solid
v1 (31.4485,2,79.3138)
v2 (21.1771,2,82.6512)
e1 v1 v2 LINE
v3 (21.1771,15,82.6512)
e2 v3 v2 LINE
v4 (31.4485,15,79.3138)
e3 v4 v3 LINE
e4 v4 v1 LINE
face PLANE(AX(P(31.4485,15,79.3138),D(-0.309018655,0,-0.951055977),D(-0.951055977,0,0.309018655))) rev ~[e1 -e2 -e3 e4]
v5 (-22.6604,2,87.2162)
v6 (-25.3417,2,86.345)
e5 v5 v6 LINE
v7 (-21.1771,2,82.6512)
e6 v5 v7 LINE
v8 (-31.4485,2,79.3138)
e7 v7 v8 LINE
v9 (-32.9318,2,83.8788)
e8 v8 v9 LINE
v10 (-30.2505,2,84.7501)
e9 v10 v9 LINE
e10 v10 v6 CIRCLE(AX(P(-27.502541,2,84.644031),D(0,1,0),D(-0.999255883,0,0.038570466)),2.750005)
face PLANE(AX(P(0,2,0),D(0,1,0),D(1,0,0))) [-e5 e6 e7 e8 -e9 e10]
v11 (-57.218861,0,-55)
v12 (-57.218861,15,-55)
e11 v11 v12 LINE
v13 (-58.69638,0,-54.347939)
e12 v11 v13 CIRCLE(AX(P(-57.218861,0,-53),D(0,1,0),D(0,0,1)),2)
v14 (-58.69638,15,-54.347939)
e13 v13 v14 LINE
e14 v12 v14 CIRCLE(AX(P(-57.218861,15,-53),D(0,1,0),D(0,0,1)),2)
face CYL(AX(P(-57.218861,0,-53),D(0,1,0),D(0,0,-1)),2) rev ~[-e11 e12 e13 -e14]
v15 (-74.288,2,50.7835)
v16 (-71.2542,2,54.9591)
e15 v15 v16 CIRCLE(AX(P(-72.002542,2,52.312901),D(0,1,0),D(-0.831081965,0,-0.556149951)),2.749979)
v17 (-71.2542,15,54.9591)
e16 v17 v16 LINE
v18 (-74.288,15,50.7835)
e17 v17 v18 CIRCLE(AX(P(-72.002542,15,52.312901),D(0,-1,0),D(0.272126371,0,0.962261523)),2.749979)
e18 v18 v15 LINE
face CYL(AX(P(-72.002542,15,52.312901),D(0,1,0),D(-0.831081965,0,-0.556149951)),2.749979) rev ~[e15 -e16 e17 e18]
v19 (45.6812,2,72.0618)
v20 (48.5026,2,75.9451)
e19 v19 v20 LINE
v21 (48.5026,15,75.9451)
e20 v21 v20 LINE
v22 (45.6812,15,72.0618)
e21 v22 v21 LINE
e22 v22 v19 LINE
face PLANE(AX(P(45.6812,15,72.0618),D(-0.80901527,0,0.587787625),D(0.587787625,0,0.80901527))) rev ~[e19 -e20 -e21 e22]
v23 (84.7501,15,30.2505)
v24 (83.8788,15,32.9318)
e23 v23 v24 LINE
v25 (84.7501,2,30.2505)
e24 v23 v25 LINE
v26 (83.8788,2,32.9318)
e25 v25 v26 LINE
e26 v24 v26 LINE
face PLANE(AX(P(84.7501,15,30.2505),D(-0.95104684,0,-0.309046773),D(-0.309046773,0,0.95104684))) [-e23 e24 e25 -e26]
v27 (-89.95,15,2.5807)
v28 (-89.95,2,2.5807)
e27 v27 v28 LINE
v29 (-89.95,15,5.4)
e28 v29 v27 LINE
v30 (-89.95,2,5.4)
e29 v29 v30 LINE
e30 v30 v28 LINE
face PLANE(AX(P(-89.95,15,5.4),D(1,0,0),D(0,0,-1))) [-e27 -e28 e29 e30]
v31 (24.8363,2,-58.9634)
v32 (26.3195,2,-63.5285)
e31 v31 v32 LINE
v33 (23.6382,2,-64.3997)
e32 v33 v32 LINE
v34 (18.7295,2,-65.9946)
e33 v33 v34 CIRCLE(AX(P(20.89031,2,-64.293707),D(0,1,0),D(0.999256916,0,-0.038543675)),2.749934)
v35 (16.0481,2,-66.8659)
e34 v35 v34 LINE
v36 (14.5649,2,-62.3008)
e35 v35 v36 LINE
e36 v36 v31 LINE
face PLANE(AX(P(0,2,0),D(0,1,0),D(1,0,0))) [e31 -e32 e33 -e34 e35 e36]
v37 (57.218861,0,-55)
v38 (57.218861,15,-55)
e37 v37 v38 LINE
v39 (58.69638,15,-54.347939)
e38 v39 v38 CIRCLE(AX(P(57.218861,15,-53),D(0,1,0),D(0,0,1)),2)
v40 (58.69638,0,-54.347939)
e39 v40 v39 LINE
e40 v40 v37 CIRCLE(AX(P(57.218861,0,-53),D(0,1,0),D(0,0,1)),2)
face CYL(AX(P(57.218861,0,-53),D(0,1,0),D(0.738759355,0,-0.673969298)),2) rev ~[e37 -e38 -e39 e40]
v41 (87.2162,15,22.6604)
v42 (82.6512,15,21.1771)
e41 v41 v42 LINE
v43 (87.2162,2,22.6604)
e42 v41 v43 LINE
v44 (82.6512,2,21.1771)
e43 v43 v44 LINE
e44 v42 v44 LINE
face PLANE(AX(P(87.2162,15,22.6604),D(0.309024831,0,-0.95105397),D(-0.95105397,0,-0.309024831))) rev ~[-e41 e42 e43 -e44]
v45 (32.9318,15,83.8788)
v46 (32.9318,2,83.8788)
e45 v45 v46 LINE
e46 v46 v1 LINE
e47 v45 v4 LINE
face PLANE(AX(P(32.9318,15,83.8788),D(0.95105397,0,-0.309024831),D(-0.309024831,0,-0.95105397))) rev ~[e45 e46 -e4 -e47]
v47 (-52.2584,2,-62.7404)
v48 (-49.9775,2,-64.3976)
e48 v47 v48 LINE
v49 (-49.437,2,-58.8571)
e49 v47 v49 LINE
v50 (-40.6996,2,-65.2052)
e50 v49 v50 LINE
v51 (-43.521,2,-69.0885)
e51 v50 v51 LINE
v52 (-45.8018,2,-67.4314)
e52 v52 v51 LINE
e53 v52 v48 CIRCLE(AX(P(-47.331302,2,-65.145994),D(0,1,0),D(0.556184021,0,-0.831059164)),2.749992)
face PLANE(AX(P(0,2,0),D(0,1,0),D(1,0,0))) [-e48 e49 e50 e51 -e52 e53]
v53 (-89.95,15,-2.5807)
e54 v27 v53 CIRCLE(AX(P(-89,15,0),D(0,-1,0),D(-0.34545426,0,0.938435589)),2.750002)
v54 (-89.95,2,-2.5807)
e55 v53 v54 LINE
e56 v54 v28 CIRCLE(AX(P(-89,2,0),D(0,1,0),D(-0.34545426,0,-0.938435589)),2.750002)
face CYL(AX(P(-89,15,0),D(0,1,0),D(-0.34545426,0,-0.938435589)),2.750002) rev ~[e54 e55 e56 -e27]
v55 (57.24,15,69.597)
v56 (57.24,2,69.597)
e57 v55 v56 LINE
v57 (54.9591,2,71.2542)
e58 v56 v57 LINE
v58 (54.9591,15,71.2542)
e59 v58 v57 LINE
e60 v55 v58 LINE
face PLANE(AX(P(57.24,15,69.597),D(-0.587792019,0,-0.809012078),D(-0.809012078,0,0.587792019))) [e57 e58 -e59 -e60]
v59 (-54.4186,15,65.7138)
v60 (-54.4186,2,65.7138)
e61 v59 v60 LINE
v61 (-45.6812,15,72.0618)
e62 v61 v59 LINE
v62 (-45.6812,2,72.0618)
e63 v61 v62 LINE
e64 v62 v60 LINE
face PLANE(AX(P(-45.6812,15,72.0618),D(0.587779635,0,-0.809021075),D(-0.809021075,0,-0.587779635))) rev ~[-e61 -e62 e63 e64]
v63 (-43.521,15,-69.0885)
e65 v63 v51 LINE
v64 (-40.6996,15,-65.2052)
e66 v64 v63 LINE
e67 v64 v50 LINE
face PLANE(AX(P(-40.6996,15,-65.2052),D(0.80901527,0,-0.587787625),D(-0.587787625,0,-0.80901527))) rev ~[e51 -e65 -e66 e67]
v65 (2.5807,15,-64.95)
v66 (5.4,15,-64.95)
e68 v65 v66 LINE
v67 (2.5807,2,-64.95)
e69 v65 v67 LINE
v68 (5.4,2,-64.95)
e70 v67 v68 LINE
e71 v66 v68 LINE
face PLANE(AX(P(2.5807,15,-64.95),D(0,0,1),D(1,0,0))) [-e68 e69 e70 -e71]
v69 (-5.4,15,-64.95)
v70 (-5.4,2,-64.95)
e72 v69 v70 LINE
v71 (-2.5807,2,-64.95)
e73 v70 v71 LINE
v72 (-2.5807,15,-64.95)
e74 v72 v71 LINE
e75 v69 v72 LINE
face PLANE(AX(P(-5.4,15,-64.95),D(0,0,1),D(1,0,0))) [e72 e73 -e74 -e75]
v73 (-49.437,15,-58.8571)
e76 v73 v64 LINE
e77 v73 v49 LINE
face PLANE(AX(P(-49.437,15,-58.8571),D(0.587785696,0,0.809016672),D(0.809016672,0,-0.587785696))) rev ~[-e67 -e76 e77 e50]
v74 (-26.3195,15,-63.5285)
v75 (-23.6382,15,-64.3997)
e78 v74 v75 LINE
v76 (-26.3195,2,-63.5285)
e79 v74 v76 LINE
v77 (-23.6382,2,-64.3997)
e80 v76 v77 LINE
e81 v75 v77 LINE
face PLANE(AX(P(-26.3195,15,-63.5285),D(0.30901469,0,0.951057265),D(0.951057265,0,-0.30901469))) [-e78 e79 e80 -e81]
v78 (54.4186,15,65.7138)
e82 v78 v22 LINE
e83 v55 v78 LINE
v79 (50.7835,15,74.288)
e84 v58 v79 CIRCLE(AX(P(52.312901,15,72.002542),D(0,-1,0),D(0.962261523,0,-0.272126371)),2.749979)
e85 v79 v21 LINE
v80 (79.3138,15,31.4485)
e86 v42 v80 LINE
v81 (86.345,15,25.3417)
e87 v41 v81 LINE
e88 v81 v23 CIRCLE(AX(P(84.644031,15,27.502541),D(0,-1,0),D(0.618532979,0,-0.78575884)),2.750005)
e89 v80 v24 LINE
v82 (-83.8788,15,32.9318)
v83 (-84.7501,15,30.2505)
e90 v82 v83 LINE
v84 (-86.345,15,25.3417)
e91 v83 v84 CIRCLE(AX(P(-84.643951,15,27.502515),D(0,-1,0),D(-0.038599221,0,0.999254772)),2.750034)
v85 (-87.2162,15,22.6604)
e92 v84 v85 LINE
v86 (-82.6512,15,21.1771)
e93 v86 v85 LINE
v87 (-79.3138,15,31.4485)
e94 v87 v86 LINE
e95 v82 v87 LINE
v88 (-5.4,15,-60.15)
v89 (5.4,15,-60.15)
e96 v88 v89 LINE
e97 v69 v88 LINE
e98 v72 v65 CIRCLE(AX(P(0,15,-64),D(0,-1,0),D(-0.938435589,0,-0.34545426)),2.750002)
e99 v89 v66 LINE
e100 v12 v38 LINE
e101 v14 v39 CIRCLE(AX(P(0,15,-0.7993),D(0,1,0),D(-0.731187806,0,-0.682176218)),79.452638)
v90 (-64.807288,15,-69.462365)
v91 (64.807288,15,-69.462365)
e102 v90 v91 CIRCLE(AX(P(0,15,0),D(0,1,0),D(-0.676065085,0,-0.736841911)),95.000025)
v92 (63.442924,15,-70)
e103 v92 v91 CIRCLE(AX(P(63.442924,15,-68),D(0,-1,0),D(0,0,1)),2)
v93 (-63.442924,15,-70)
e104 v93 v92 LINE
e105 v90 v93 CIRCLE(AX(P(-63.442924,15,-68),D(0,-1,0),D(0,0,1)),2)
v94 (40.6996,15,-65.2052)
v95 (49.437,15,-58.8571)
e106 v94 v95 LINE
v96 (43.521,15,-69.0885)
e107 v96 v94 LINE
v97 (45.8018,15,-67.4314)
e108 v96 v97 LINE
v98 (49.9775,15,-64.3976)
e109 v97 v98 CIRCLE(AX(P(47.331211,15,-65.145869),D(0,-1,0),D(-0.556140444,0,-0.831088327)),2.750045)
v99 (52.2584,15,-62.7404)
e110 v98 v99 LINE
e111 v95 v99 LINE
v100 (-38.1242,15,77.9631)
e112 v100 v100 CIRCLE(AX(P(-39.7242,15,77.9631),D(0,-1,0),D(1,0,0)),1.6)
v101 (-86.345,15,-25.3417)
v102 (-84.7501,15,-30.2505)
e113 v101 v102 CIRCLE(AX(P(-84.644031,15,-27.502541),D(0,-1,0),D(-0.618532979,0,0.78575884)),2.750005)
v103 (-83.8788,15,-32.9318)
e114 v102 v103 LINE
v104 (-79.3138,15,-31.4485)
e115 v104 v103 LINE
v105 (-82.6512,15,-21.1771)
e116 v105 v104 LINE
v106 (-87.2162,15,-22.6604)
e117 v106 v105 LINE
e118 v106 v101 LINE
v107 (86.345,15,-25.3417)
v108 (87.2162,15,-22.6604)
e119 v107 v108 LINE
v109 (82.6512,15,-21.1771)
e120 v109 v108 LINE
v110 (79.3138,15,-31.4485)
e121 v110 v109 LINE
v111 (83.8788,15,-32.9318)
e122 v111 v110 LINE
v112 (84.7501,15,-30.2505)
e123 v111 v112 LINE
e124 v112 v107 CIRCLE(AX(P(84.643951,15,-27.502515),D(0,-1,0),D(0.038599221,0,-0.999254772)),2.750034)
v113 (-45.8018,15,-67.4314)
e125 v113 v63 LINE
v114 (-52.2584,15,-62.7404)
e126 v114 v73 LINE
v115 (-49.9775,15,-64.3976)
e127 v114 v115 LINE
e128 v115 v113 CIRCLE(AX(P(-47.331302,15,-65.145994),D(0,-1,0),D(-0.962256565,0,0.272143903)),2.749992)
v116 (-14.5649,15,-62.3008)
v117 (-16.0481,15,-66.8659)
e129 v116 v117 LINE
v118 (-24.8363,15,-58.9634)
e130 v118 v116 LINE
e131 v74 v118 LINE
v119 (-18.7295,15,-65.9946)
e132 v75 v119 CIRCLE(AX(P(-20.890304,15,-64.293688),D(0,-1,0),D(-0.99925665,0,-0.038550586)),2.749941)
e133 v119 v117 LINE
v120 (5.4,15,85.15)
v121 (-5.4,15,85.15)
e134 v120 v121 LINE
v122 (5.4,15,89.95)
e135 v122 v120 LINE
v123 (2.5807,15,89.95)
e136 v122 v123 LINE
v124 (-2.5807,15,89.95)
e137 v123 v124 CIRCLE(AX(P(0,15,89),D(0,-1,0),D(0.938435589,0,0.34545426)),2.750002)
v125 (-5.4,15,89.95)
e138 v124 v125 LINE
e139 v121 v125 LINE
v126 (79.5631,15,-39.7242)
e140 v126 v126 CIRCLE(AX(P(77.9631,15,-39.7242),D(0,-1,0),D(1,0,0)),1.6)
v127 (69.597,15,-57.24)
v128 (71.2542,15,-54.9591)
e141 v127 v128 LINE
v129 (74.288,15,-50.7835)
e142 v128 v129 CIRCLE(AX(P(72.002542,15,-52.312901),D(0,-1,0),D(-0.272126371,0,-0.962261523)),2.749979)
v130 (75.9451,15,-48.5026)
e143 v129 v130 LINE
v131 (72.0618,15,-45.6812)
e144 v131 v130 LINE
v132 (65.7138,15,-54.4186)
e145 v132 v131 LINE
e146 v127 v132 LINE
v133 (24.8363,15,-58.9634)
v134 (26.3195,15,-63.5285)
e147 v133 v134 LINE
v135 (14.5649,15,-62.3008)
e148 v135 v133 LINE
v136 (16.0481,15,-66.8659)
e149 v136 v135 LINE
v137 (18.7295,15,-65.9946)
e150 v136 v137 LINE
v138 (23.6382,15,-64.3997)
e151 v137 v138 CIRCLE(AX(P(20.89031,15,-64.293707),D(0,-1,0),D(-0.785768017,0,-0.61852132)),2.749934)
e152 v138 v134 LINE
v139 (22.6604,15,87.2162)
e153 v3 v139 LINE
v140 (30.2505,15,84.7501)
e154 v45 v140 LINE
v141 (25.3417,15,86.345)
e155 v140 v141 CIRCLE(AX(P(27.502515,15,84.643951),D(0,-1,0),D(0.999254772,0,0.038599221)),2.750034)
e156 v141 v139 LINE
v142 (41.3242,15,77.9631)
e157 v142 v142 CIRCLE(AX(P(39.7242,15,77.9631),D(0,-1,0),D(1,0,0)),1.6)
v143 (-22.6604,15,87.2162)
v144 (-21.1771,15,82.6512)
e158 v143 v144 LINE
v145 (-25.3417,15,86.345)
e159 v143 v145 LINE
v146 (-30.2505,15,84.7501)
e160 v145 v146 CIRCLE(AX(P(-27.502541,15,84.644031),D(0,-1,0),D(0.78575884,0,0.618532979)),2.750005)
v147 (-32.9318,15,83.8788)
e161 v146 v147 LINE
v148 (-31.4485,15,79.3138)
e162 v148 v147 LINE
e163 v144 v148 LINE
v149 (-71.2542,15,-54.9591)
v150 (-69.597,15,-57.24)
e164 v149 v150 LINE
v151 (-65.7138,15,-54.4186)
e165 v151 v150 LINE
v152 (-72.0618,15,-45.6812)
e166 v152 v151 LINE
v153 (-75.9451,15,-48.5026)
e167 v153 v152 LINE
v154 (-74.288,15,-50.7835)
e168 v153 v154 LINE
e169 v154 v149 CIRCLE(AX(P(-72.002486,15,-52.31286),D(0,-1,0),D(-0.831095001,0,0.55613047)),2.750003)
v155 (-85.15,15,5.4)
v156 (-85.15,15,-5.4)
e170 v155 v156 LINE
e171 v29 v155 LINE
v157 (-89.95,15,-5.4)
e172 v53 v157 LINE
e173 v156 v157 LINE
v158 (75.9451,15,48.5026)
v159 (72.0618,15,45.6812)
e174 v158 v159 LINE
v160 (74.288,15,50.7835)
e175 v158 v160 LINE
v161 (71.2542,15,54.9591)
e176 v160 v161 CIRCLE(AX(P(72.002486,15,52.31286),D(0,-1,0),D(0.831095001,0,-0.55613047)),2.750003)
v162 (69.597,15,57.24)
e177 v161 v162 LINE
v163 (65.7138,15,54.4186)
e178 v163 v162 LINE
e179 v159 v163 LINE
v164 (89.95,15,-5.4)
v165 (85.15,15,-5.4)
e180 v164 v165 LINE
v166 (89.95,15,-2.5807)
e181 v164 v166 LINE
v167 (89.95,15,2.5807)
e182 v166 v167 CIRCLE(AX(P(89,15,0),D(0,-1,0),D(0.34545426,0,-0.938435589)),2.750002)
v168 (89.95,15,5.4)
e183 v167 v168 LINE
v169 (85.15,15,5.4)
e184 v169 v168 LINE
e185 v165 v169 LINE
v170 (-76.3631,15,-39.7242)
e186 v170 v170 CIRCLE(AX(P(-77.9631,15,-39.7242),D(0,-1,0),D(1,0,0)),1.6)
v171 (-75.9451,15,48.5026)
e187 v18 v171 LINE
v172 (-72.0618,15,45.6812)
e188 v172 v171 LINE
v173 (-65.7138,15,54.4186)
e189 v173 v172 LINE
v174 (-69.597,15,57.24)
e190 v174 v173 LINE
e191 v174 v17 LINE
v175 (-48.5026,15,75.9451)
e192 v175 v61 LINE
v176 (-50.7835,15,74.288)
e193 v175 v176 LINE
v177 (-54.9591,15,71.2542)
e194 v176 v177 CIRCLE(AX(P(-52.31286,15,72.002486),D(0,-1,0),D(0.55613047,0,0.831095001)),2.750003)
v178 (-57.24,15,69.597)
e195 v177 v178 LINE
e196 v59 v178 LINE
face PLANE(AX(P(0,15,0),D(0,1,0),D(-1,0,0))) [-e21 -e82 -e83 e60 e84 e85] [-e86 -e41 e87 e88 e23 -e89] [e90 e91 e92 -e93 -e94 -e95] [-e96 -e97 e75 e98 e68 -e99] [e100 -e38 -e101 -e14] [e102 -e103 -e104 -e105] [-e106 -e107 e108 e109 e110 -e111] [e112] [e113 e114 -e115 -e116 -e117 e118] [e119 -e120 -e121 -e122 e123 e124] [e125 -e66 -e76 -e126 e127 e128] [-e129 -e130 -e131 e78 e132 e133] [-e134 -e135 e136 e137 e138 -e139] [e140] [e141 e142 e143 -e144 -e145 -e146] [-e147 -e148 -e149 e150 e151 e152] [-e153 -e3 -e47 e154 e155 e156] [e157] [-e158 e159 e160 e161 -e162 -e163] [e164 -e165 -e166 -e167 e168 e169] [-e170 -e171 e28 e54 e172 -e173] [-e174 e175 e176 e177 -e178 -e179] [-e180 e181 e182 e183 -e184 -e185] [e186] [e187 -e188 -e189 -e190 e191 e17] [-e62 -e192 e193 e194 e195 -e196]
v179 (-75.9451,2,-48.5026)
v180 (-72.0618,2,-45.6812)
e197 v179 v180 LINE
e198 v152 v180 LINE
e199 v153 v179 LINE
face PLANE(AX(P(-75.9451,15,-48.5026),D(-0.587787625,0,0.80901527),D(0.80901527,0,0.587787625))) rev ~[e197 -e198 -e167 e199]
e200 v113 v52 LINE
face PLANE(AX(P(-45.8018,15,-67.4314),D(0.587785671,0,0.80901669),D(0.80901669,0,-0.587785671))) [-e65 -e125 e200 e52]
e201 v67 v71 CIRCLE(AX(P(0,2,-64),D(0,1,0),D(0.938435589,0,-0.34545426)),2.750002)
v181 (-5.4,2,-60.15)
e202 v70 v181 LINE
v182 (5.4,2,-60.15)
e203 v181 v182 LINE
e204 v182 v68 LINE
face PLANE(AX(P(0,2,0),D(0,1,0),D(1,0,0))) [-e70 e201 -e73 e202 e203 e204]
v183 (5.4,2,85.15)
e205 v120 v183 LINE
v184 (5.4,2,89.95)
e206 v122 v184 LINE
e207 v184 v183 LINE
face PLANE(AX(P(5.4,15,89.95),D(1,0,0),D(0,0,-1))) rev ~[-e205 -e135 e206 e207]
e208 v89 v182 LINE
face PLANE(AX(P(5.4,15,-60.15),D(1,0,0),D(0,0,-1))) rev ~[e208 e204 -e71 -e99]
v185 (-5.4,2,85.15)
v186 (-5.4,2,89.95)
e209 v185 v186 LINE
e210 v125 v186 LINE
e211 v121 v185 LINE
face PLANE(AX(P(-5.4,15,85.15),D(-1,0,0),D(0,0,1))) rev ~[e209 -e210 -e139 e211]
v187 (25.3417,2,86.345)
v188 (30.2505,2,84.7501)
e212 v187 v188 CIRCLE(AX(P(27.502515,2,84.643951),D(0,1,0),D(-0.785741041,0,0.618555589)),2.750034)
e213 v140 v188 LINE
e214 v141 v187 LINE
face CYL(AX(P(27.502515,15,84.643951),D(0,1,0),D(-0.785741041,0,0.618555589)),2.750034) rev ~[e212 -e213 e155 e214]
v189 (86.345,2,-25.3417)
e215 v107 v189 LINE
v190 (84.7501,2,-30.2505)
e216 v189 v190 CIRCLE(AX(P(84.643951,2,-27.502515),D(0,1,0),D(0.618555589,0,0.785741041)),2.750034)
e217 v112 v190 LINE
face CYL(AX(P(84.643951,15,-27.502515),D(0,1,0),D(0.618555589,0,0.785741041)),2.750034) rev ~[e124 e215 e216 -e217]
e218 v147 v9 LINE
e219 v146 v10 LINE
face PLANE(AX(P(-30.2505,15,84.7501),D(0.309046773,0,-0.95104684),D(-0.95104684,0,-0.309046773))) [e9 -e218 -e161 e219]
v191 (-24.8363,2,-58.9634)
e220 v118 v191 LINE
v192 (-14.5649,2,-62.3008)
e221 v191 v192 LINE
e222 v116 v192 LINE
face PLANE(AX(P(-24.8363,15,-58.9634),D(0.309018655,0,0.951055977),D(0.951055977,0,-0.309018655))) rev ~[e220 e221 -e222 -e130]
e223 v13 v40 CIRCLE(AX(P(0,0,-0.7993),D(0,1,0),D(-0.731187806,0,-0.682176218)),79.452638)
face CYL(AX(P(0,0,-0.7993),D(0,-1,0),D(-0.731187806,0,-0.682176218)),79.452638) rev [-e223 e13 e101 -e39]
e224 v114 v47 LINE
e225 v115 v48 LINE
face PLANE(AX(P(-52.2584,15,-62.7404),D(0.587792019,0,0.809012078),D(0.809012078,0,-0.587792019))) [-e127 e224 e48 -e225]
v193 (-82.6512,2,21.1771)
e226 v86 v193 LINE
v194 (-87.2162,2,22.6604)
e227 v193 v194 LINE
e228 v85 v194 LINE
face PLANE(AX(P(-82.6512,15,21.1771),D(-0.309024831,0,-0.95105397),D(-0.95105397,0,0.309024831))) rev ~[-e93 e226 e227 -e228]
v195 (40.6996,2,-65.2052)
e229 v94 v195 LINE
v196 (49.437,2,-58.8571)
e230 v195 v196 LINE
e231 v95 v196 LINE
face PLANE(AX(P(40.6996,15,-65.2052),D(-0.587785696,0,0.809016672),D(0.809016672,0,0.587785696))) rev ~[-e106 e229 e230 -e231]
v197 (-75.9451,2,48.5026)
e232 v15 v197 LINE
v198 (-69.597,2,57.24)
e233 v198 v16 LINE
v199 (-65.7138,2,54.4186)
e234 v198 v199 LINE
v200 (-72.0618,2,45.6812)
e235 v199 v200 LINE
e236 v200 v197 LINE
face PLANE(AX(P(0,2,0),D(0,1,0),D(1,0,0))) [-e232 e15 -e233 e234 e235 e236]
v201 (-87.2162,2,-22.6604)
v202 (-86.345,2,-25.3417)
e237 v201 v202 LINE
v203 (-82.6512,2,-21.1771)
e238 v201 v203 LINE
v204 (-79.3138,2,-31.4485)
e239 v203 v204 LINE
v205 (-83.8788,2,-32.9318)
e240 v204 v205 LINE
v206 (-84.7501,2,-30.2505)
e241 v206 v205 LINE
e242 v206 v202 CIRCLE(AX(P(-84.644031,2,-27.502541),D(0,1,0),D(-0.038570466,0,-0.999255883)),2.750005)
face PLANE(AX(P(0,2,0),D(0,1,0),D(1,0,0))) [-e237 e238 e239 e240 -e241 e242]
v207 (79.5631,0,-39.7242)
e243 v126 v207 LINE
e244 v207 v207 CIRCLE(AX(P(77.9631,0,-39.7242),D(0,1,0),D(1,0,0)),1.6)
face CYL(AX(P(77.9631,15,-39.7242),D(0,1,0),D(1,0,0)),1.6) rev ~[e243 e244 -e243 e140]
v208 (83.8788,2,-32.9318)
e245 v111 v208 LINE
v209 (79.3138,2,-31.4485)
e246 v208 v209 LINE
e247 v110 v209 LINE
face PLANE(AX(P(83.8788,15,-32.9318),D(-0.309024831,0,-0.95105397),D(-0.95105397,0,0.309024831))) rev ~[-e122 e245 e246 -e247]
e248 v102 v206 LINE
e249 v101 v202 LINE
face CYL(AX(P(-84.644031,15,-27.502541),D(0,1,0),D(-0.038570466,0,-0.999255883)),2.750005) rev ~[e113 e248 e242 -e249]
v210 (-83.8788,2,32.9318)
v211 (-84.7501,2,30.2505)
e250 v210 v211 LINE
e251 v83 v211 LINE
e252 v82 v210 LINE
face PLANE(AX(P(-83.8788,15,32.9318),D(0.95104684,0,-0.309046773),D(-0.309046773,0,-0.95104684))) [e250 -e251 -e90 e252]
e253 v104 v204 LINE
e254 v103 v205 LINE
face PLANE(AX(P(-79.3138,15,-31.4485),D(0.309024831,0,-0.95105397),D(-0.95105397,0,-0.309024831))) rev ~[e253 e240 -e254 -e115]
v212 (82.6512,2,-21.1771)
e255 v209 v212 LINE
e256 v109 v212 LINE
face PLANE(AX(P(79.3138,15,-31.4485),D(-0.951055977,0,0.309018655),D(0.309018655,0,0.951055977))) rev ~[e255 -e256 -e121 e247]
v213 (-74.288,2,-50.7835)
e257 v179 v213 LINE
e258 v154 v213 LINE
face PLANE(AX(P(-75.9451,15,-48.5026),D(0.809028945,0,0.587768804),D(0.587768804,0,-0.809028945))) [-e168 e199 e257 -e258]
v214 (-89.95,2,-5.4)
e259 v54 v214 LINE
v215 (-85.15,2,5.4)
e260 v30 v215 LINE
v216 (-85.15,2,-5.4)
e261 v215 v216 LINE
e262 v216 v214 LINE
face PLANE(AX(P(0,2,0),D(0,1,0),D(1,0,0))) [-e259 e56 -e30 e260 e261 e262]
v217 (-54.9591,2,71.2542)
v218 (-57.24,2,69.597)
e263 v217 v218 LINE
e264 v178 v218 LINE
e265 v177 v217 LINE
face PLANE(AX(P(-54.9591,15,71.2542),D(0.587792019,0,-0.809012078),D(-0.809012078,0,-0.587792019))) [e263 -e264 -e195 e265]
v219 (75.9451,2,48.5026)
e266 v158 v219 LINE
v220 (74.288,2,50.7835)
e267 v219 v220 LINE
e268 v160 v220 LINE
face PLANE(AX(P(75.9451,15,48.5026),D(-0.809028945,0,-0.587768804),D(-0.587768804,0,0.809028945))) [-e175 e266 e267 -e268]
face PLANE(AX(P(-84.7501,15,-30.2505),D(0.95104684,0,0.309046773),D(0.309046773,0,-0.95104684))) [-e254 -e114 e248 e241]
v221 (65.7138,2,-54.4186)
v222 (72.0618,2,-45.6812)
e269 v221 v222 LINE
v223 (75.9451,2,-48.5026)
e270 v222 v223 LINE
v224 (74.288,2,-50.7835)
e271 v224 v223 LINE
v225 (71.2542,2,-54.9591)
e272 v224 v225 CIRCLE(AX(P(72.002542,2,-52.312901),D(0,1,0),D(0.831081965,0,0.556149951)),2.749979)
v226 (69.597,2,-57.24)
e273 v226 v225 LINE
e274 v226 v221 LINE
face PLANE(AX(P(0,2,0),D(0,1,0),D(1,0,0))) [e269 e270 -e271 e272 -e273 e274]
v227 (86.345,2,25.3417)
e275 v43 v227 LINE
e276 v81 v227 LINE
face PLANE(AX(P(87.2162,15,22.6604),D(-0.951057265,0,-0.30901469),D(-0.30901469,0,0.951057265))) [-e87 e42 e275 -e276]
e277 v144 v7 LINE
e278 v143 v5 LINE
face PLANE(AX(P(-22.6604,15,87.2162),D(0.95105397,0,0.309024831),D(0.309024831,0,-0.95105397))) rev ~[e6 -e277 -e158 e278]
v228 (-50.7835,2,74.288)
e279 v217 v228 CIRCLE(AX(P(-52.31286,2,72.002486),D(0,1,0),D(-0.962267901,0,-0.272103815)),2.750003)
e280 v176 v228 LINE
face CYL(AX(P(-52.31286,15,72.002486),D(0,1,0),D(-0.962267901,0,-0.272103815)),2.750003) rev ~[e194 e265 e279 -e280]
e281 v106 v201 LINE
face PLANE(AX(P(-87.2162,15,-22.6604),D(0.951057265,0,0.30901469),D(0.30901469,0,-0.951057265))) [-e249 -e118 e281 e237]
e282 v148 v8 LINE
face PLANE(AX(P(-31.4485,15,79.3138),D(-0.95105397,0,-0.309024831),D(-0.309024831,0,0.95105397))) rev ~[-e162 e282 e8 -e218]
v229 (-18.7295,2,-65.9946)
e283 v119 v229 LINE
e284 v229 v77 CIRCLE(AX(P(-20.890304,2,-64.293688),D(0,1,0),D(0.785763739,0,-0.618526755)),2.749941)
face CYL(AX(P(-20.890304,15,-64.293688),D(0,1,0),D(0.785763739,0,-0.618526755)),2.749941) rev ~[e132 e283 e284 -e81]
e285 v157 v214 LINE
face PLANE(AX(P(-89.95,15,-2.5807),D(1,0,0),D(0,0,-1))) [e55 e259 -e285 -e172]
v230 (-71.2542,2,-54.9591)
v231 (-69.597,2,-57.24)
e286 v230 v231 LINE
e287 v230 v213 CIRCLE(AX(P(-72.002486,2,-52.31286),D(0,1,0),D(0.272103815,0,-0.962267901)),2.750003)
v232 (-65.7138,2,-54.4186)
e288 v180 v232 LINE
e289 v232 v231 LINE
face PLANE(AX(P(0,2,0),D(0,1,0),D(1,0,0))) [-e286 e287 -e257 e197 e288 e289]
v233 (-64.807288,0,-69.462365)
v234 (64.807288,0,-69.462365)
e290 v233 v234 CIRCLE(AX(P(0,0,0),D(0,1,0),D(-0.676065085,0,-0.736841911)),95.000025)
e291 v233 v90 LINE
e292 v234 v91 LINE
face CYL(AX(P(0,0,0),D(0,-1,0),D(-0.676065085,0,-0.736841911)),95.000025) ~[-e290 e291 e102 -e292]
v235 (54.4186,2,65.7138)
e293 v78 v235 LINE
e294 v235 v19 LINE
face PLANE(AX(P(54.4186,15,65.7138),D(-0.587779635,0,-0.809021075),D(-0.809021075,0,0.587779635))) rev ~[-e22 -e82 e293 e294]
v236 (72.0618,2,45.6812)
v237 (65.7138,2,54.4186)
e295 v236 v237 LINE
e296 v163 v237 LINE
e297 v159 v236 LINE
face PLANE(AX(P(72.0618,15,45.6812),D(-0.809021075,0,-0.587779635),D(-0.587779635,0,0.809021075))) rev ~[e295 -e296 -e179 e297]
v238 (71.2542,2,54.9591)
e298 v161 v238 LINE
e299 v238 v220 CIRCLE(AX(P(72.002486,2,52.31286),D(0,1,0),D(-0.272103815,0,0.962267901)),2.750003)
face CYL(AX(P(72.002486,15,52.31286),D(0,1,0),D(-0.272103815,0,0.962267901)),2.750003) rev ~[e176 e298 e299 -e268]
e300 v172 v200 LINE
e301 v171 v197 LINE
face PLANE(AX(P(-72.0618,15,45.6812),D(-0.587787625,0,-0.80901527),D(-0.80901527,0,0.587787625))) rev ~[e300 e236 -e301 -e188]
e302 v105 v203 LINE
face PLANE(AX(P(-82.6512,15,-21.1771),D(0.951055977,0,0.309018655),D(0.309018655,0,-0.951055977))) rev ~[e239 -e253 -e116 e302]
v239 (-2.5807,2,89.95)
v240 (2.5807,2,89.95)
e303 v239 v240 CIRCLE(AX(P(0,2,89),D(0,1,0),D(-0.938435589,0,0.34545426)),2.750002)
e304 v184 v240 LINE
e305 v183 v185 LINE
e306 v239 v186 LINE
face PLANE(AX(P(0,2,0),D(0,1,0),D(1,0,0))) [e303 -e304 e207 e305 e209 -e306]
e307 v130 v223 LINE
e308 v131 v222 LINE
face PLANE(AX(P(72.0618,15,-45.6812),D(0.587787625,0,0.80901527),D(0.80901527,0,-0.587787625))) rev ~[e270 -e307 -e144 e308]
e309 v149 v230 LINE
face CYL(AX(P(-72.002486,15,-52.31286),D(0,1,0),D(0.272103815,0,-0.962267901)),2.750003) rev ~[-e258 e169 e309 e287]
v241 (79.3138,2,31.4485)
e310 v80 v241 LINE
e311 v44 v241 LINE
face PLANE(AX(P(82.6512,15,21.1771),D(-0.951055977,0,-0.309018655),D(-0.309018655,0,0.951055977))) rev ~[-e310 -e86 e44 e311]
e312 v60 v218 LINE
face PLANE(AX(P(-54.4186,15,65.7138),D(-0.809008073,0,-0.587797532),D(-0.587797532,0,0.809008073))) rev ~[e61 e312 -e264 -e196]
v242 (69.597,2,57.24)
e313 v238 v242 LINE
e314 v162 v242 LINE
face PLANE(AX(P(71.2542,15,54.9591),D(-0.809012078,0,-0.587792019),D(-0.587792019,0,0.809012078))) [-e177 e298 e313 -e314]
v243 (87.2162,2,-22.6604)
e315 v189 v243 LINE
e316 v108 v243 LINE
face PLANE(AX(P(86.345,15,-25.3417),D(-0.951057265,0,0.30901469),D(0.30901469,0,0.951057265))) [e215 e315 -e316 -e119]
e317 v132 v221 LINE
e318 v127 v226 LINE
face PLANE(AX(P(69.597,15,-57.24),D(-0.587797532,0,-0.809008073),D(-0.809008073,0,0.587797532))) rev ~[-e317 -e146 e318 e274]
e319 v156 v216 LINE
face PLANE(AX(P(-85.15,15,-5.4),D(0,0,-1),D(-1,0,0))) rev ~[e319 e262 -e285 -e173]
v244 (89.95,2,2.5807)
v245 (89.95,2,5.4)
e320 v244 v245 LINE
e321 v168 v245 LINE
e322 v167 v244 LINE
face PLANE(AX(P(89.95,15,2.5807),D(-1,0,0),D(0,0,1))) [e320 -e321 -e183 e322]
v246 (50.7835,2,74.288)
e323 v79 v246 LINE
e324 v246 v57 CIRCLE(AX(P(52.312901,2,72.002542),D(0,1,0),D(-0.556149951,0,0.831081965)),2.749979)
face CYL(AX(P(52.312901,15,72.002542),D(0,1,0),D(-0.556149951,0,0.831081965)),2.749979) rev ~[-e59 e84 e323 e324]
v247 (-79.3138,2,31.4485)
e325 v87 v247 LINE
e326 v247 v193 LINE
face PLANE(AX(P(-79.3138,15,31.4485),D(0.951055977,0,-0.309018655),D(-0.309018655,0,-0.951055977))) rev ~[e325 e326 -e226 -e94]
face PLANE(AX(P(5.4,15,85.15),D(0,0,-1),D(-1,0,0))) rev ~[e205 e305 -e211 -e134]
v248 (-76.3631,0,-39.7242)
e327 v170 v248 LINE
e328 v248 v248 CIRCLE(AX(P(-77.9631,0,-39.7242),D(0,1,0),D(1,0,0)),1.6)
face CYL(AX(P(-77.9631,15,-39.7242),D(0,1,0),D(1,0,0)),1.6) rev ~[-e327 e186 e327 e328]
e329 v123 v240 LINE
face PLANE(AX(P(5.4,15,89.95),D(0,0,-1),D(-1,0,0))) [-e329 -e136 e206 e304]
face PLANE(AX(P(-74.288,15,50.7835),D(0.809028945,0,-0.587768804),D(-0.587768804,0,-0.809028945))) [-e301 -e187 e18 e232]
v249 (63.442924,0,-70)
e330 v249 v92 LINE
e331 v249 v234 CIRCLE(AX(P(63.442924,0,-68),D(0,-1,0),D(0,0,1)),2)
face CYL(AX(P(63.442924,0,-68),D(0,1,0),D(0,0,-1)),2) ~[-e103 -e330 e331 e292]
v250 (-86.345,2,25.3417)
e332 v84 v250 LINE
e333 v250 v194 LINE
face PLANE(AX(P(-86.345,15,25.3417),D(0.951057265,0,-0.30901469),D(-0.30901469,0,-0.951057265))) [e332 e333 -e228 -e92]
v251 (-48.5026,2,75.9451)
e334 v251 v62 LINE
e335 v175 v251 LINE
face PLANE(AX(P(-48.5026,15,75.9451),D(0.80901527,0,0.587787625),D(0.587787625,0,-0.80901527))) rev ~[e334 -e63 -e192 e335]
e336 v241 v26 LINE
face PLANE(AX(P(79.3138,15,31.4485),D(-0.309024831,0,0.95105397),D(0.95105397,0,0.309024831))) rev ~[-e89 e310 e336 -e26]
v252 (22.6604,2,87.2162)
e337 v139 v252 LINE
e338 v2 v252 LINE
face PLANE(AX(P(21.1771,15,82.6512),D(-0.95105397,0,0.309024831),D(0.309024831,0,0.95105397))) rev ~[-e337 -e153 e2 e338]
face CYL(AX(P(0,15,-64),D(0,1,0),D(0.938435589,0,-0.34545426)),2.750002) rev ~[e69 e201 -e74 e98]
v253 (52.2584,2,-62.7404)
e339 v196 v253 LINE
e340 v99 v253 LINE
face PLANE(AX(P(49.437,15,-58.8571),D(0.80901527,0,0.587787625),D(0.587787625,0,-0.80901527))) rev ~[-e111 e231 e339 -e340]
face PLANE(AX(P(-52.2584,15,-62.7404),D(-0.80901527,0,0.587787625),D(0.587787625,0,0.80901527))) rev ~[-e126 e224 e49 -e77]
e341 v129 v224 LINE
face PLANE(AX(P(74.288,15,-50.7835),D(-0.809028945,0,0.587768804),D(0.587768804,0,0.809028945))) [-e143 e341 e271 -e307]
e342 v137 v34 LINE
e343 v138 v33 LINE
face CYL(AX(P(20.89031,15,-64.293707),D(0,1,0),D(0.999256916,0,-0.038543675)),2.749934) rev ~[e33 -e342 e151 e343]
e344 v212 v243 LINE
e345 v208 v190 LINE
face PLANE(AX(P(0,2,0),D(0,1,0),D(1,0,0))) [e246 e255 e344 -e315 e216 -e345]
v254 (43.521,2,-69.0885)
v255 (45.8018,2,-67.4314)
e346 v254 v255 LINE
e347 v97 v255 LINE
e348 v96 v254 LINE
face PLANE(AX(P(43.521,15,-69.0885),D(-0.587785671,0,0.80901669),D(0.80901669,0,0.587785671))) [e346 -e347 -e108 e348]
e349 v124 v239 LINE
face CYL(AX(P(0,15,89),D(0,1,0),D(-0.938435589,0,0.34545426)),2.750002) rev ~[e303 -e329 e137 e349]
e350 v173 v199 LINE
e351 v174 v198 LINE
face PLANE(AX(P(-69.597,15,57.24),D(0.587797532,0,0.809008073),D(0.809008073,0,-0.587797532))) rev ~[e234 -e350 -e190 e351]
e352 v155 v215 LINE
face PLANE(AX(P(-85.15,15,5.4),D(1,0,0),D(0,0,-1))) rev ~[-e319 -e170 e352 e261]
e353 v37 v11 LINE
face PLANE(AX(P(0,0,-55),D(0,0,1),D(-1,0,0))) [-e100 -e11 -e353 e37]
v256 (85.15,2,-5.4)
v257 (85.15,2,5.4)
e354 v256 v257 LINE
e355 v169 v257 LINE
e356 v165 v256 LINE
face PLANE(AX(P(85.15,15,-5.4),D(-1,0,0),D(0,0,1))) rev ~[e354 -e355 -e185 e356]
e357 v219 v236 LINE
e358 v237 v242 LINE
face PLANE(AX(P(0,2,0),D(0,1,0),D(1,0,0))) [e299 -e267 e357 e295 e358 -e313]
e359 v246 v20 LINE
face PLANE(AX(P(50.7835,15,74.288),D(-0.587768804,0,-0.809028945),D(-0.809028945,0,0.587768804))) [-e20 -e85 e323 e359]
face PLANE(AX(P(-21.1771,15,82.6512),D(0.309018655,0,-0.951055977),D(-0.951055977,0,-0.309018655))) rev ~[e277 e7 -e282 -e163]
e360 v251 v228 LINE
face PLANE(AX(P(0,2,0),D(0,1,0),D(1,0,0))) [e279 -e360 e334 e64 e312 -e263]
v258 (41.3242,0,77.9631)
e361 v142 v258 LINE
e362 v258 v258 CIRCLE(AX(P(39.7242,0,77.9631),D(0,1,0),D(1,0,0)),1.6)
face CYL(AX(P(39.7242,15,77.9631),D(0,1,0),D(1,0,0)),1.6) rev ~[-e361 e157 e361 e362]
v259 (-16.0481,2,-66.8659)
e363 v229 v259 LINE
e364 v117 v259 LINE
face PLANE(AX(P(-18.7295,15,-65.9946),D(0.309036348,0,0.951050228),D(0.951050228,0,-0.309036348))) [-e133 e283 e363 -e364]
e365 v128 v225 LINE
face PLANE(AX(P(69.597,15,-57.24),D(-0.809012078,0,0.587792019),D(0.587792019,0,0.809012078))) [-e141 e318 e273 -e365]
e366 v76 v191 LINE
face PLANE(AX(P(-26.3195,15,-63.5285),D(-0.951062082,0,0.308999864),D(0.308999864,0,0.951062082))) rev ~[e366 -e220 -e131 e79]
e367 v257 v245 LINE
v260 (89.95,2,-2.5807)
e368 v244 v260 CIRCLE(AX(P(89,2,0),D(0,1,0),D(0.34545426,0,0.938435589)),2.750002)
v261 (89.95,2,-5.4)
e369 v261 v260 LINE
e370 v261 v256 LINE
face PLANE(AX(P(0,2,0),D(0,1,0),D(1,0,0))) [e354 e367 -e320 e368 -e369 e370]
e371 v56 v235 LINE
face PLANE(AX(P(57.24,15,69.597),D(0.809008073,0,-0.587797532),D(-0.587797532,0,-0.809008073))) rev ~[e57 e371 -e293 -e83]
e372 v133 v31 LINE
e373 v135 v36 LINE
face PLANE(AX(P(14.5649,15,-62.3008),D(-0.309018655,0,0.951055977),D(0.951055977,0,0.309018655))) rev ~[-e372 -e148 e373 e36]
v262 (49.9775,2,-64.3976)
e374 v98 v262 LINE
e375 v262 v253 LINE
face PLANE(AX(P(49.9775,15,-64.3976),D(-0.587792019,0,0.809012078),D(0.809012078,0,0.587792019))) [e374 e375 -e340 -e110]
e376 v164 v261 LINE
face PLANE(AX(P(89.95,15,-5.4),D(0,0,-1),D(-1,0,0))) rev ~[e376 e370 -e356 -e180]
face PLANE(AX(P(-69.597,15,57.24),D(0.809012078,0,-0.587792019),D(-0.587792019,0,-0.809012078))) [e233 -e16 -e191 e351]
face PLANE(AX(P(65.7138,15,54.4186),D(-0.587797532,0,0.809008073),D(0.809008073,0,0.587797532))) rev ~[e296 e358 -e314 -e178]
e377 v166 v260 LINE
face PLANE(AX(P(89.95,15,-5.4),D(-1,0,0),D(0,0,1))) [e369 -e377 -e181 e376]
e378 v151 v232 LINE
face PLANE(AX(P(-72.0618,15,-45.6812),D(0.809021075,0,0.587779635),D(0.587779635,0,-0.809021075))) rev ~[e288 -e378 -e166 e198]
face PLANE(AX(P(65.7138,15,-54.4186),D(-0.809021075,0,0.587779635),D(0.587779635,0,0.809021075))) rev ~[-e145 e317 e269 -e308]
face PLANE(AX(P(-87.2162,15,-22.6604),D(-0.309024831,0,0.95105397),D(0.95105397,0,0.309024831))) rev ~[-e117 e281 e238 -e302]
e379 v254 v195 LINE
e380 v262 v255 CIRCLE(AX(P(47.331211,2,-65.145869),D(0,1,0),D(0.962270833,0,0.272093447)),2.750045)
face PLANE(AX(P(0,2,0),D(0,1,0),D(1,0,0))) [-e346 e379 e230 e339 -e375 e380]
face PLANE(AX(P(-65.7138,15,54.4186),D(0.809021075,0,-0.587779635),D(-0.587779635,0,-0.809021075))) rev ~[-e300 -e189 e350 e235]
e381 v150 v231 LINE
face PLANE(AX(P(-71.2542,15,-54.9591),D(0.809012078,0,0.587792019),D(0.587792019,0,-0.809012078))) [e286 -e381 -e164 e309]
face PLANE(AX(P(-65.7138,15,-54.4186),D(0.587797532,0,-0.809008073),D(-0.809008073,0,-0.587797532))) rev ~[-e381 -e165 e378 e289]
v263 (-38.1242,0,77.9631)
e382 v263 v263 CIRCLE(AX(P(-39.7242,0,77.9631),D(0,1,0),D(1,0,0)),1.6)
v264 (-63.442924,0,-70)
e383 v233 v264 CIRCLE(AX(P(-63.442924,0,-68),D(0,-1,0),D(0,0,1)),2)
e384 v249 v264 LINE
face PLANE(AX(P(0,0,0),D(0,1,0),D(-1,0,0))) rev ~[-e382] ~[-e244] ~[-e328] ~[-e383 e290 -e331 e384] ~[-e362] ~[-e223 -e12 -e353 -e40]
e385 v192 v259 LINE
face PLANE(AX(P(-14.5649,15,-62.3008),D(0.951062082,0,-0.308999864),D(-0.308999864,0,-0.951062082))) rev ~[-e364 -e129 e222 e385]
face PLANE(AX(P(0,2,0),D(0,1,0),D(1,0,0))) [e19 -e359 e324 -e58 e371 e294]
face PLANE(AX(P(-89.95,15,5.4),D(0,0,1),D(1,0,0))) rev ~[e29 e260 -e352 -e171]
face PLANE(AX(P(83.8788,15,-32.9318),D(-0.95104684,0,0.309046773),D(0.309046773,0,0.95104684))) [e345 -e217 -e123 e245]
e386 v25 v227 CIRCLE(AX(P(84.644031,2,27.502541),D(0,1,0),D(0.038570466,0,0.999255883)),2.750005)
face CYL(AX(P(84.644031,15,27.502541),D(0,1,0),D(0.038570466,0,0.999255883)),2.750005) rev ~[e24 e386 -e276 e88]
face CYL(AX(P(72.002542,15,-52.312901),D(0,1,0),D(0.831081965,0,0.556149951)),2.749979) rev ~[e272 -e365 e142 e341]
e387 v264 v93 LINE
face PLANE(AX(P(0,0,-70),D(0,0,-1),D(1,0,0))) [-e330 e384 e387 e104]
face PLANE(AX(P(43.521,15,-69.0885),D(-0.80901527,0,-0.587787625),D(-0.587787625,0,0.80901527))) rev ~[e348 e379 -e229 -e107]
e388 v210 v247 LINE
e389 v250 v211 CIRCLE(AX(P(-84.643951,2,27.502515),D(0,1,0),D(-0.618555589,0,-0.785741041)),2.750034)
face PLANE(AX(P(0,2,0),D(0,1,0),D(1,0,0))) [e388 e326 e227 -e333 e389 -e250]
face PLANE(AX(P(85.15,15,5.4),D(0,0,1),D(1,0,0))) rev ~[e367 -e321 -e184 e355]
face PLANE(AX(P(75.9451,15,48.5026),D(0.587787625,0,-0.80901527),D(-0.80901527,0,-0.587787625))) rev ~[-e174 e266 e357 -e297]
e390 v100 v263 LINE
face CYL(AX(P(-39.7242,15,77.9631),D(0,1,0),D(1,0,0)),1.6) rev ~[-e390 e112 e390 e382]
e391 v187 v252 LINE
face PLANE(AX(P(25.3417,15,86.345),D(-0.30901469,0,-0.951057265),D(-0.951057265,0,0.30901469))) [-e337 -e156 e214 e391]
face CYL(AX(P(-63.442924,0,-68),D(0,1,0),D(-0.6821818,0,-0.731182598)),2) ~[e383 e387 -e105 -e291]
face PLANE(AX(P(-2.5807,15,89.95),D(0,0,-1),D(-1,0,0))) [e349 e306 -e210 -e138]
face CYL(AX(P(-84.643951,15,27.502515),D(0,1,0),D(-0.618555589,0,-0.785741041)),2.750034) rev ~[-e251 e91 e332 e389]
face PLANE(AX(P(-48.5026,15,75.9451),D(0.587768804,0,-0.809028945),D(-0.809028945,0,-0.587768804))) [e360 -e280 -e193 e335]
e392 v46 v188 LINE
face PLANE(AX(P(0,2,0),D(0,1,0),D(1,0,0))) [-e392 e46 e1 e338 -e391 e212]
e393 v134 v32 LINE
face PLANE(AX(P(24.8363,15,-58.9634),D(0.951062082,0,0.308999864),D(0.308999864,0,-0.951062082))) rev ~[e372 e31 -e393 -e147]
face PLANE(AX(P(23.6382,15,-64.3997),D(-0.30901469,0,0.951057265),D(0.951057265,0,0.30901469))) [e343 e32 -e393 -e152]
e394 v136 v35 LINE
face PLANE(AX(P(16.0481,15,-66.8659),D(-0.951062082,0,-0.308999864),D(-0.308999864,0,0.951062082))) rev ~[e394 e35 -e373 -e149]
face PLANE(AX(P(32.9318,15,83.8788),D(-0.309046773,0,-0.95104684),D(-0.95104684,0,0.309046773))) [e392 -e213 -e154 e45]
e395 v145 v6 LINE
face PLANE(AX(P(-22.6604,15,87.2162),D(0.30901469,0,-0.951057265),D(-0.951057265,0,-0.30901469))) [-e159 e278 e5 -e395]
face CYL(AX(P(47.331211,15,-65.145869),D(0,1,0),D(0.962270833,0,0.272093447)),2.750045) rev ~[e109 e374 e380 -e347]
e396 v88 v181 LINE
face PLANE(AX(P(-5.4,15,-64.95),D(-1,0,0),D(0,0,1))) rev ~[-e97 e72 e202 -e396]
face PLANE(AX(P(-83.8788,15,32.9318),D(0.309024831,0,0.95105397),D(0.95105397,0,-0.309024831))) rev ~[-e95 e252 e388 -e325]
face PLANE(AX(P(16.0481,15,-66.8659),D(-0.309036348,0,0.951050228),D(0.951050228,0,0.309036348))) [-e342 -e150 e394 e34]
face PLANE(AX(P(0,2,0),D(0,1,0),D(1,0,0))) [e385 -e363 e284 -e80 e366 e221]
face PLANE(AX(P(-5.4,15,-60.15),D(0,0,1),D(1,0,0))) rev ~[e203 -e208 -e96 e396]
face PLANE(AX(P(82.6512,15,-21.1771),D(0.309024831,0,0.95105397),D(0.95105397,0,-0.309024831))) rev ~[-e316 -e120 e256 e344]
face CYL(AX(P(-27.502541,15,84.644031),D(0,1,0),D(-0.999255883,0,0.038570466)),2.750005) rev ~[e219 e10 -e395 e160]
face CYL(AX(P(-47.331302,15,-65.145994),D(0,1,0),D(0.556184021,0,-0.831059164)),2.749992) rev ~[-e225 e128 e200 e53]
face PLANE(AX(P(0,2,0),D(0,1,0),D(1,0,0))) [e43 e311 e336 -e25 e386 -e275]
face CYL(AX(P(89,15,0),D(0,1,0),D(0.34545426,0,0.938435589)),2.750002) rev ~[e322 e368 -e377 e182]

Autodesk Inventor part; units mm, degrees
ref_plane "YZ Plane" through (0, 0, 0) normal (1, 0, 0) x (0, 1, 0)
ref_plane "XZ Plane" through (0, 0, 0) normal (0, 1, 0) x (-1, 0, 0)
ref_plane "XY Plane" through (0, 0, 0) normal (0, 0, 1) x (1, 0, 0)
sketch "Sketch1" plane through (0, 0, 0) normal (0, 1, 0) x (-1, 0, 0)
  line L0 (0, -70) -> (-64.2262, -70)
  line L1 (0, -70) -> (64.2262, -70)
  line L2 (0, -55) -> (58.0948, -55)
  line L3 (0, -55) -> (-58.0948, -55)
  arc A0 (64.2262, -70) -> (-64.2262, -70) centre (0, 0) ccw
  arc A1 (58.0948, -55) -> (-58.0948, -55) centre (0, -0.7993) ccw
extrude "Extrusion1" add sketch "Sketch1" along normal blind 15
fillet "Fillet1" radius 2 4 edges at (64.2262, 7.5, -70) (-64.2262, 7.5, -70) (58.0948, 7.5, -55) (-58.0948, 7.5, -55)
sketch "Sketch2" plane through (0, 15, 0) normal (0, 1, 0) x (1, 0, 0)
  line L0 (-5.4, 64.95) -> (-5.4, 60.15)
  line L1 (-5.4, 60.15) -> (5.4, 60.15)
  line L2 (5.4, 60.15) -> (5.4, 64.95)
  arc A0 (2.5807, 64.95) -> (-2.5807, 64.95) centre (0, 64) ccw
  line L3 (-5.4, 64.95) -> (-2.5807, 64.95)
  line L4 (2.5807, 64.95) -> (5.4, 64.95)
  line L5 (0, 66.75) -> (0, 64)
  line L6 (0, 64) -> (0, 70)
  line L7 (-26.3195, 63.5285) -> (-24.8363, 58.9634)
  line L8 (-20.8903, 64.2937) -> (-22.7444, 70)
  line L9 (-21.7401, 66.9091) -> (-20.8903, 64.2937)
  arc A1 (-18.7295, 65.9946) -> (-23.6382, 64.3997) centre (-20.8903, 64.2937) ccw
  line L10 (-18.7295, 65.9946) -> (-16.0481, 66.8659)
  line L11 (-24.8363, 58.9634) -> (-14.5649, 62.3008)
  line L12 (-14.5649, 62.3008) -> (-16.0481, 66.8659)
  line L13 (-26.3195, 63.5285) -> (-23.6382, 64.3997)
  line L14 (-52.2584, 62.7404) -> (-49.437, 58.8571)
  line L15 (-47.3313, 65.1459) -> (-50.858, 70)
  line L16 (-48.9477, 67.3707) -> (-47.3313, 65.1459)
  arc A2 (-45.8018, 67.4314) -> (-49.9775, 64.3976) centre (-47.3313, 65.1459) ccw
  line L17 (-45.8018, 67.4314) -> (-43.521, 69.0885)
  line L18 (-49.437, 58.8571) -> (-40.6996, 65.2052)
  line L19 (-40.6996, 65.2052) -> (-43.521, 69.0885)
  line L20 (-52.2584, 62.7404) -> (-49.9775, 64.3976)
  line L21 (-75.9451, 48.5026) -> (-72.0618, 45.6812)
  line L22 (-72.0025, 52.3129) -> (-76.8566, 55.8396)
  line L23 (-74.2273, 53.9293) -> (-72.0025, 52.3129)
  arc A3 (-71.2542, 54.9591) -> (-74.288, 50.7835) centre (-72.0025, 52.3129) ccw
  line L24 (-71.2542, 54.9591) -> (-69.597, 57.24)
  line L25 (-72.0618, 45.6812) -> (-65.7138, 54.4186)
  line L26 (-65.7138, 54.4186) -> (-69.597, 57.24)
  line L27 (-75.9451, 48.5026) -> (-74.288, 50.7835)
  line L28 (-87.2162, 22.6604) -> (-82.6512, 21.1771)
  line L29 (-84.644, 27.5025) -> (-90.3504, 29.3566)
  line L30 (-87.2594, 28.3523) -> (-84.644, 27.5025)
  arc A4 (-84.7501, 30.2505) -> (-86.345, 25.3417) centre (-84.644, 27.5025) ccw
  line L31 (-84.7501, 30.2505) -> (-83.8788, 32.9318)
  line L32 (-82.6512, 21.1771) -> (-79.3138, 31.4485)
  line L33 (-79.3138, 31.4485) -> (-83.8788, 32.9318)
  line L34 (-87.2162, 22.6604) -> (-86.345, 25.3417)
  line L35 (-89.95, -5.4) -> (-85.15, -5.4)
  line L36 (-89, 0) -> (-95, 0)
  line L37 (-91.75, 0) -> (-89, 0)
  arc A5 (-89.95, 2.5807) -> (-89.95, -2.5807) centre (-89, 0) ccw
  line L38 (-89.95, 2.5807) -> (-89.95, 5.4)
  line L39 (-85.15, -5.4) -> (-85.15, 5.4)
  line L40 (-85.15, 5.4) -> (-89.95, 5.4)
  line L41 (-89.95, -5.4) -> (-89.95, -2.5807)
  line L42 (-83.8788, -32.9318) -> (-79.3138, -31.4485)
  line L43 (-84.644, -27.5025) -> (-90.3504, -29.3566)
  line L44 (-87.2594, -28.3523) -> (-84.644, -27.5025)
  arc A6 (-86.345, -25.3417) -> (-84.7501, -30.2505) centre (-84.644, -27.5025) ccw
  line L45 (-86.345, -25.3417) -> (-87.2162, -22.6604)
  line L46 (-79.3138, -31.4485) -> (-82.6512, -21.1771)
  line L47 (-82.6512, -21.1771) -> (-87.2162, -22.6604)
  line L48 (-83.8788, -32.9318) -> (-84.7501, -30.2505)
  line L49 (-69.597, -57.24) -> (-65.7138, -54.4186)
  line L50 (-72.0025, -52.3129) -> (-76.8566, -55.8396)
  line L51 (-74.2273, -53.9293) -> (-72.0025, -52.3129)
  arc A7 (-74.288, -50.7835) -> (-71.2542, -54.9591) centre (-72.0025, -52.3129) ccw
  line L52 (-74.288, -50.7835) -> (-75.9451, -48.5026)
  line L53 (-65.7138, -54.4186) -> (-72.0618, -45.6812)
  line L54 (-72.0618, -45.6812) -> (-75.9451, -48.5026)
  line L55 (-69.597, -57.24) -> (-71.2542, -54.9591)
  line L56 (-48.5026, -75.9451) -> (-45.6812, -72.0618)
  line L57 (-52.3129, -72.0025) -> (-55.8396, -76.8566)
  line L58 (-53.9293, -74.2273) -> (-52.3129, -72.0025)
  arc A8 (-54.9591, -71.2542) -> (-50.7835, -74.288) centre (-52.3129, -72.0025) ccw
  line L59 (-54.9591, -71.2542) -> (-57.24, -69.597)
  line L60 (-45.6812, -72.0618) -> (-54.4186, -65.7138)
  line L61 (-54.4186, -65.7138) -> (-57.24, -69.597)
  line L62 (-48.5026, -75.9451) -> (-50.7835, -74.288)
  line L63 (-22.6604, -87.2162) -> (-21.1771, -82.6512)
  line L64 (-27.5025, -84.644) -> (-29.3566, -90.3504)
  line L65 (-28.3523, -87.2594) -> (-27.5025, -84.644)
  arc A9 (-30.2505, -84.7501) -> (-25.3417, -86.345) centre (-27.5025, -84.644) ccw
  line L66 (-30.2505, -84.7501) -> (-32.9318, -83.8788)
  line L67 (-21.1771, -82.6512) -> (-31.4485, -79.3138)
  line L68 (-31.4485, -79.3138) -> (-32.9318, -83.8788)
  line L69 (-22.6604, -87.2162) -> (-25.3417, -86.345)
  line L70 (5.4, -89.95) -> (5.4, -85.15)
  line L71 (0, -89) -> (0, -95)
  line L72 (0, -91.75) -> (0, -89)
  arc A10 (-2.5807, -89.95) -> (2.5807, -89.95) centre (0, -89) ccw
  line L73 (-2.5807, -89.95) -> (-5.4, -89.95)
  line L74 (5.4, -85.15) -> (-5.4, -85.15)
  line L75 (-5.4, -85.15) -> (-5.4, -89.95)
  line L76 (5.4, -89.95) -> (2.5807, -89.95)
  line L77 (32.9318, -83.8788) -> (31.4485, -79.3138)
  line L78 (27.5025, -84.644) -> (29.3566, -90.3504)
  line L79 (28.3523, -87.2594) -> (27.5025, -84.644)
  arc A11 (25.3417, -86.345) -> (30.2505, -84.7501) centre (27.5025, -84.644) ccw
  line L80 (25.3417, -86.345) -> (22.6604, -87.2162)
  line L81 (31.4485, -79.3138) -> (21.1771, -82.6512)
  line L82 (21.1771, -82.6512) -> (22.6604, -87.2162)
  line L83 (32.9318, -83.8788) -> (30.2505, -84.7501)
  line L84 (57.24, -69.597) -> (54.4186, -65.7138)
  line L85 (52.3129, -72.0025) -> (55.8396, -76.8566)
  line L86 (53.9293, -74.2273) -> (52.3129, -72.0025)
  arc A12 (50.7835, -74.288) -> (54.9591, -71.2542) centre (52.3129, -72.0025) ccw
  line L87 (50.7835, -74.288) -> (48.5026, -75.9451)
  line L88 (54.4186, -65.7138) -> (45.6812, -72.0618)
  line L89 (45.6812, -72.0618) -> (48.5026, -75.9451)
  line L90 (57.24, -69.597) -> (54.9591, -71.2542)
  line L91 (75.9451, -48.5026) -> (72.0618, -45.6812)
  line L92 (72.0025, -52.3129) -> (76.8566, -55.8396)
  line L93 (74.2273, -53.9293) -> (72.0025, -52.3129)
  arc A13 (71.2542, -54.9591) -> (74.288, -50.7835) centre (72.0025, -52.3129) ccw
  line L94 (71.2542, -54.9591) -> (69.597, -57.24)
  line L95 (72.0618, -45.6812) -> (65.7138, -54.4186)
  line L96 (65.7138, -54.4186) -> (69.597, -57.24)
  line L97 (75.9451, -48.5026) -> (74.288, -50.7835)
  line L98 (87.2162, -22.6604) -> (82.6512, -21.1771)
  line L99 (84.644, -27.5025) -> (90.3504, -29.3566)
  line L100 (87.2594, -28.3523) -> (84.644, -27.5025)
  arc A14 (84.7501, -30.2505) -> (86.345, -25.3417) centre (84.644, -27.5025) ccw
  line L101 (84.7501, -30.2505) -> (83.8788, -32.9318)
  line L102 (82.6512, -21.1771) -> (79.3138, -31.4485)
  line L103 (79.3138, -31.4485) -> (83.8788, -32.9318)
  line L104 (87.2162, -22.6604) -> (86.345, -25.3417)
  line L105 (89.95, 5.4) -> (85.15, 5.4)
  line L106 (89, 0) -> (95, 0)
  line L107 (91.75, 0) -> (89, 0)
  arc A15 (89.95, -2.5807) -> (89.95, 2.5807) centre (89, 0) ccw
  line L108 (89.95, -2.5807) -> (89.95, -5.4)
  line L109 (85.15, 5.4) -> (85.15, -5.4)
  line L110 (85.15, -5.4) -> (89.95, -5.4)
  line L111 (89.95, 5.4) -> (89.95, 2.5807)
  line L112 (83.8788, 32.9318) -> (79.3138, 31.4485)
  line L113 (84.644, 27.5025) -> (90.3504, 29.3566)
  line L114 (87.2594, 28.3523) -> (84.644, 27.5025)
  arc A16 (86.345, 25.3417) -> (84.7501, 30.2505) centre (84.644, 27.5025) ccw
  line L115 (86.345, 25.3417) -> (87.2162, 22.6604)
  line L116 (79.3138, 31.4485) -> (82.6512, 21.1771)
  line L117 (82.6512, 21.1771) -> (87.2162, 22.6604)
  line L118 (83.8788, 32.9318) -> (84.7501, 30.2505)
  line L119 (69.597, 57.24) -> (65.7138, 54.4186)
  line L120 (72.0025, 52.3129) -> (76.8566, 55.8396)
  line L121 (74.2273, 53.9293) -> (72.0025, 52.3129)
  arc A17 (74.288, 50.7835) -> (71.2542, 54.9591) centre (72.0025, 52.3129) ccw
  line L122 (74.288, 50.7835) -> (75.9451, 48.5026)
  line L123 (65.7138, 54.4186) -> (72.0618, 45.6812)
  line L124 (72.0618, 45.6812) -> (75.9451, 48.5026)
  line L125 (69.597, 57.24) -> (71.2542, 54.9591)
  line L126 (43.521, 69.0885) -> (40.6996, 65.2052)
  line L127 (47.3313, 65.1459) -> (50.858, 70)
  line L128 (48.9477, 67.3707) -> (47.3313, 65.1459)
  arc A18 (49.9775, 64.3976) -> (45.8018, 67.4314) centre (47.3313, 65.1459) ccw
  line L129 (49.9775, 64.3976) -> (52.2584, 62.7404)
  line L130 (40.6996, 65.2052) -> (49.437, 58.8571)
  line L131 (49.437, 58.8571) -> (52.2584, 62.7404)
  line L132 (43.521, 69.0885) -> (45.8018, 67.4314)
  line L133 (16.0481, 66.8659) -> (14.5649, 62.3008)
  line L134 (20.8903, 64.2937) -> (22.7444, 70)
  line L135 (21.7401, 66.9091) -> (20.8903, 64.2937)
  arc A19 (23.6382, 64.3997) -> (18.7295, 65.9946) centre (20.8903, 64.2937) ccw
  line L136 (23.6382, 64.3997) -> (26.3195, 63.5285)
  line L137 (14.5649, 62.3008) -> (24.8363, 58.9634)
  line L138 (24.8363, 58.9634) -> (26.3195, 63.5285)
  line L139 (16.0481, 66.8659) -> (18.7295, 65.9946)
  line L140 (63.4429, 70) -> (-63.4429, 70)
  line L141 (63.4429, 70) -> (-63.4429, 70) projected
  point P0 (0, 0)
  dimension "d20" = 360
extrude "Extrusion2" cut sketch "Sketch2" against normal blind 13
sketch "Sketch3" plane through (0, 15, 0) normal (0, 1, 0) x (1, 0, 0)
  line L0 (0, 0) -> (0, -87.5)
  arc A0 (-39.7242, -77.9631) -> (0, -87.5) centre (0, 0) ccw
  line L1 (0, 0) -> (-39.7242, -77.9631) construction
  line L2 (0, 0) -> (0, -87.5) construction
  arc A1 (0, -87.5) -> (39.7242, -77.9631) centre (0, 0) ccw
  line L3 (0, 0) -> (39.7242, -77.9631) construction
  line L4 (0, 0) -> (0, -87.5) construction
  arc A2 (0, -87.5) -> (77.9631, 39.7242) centre (0, 0) ccw
  line L5 (0, 0) -> (77.9631, 39.7242) construction
  line L6 (0, 0) -> (0, -87.5) construction
  arc A3 (-77.9631, 39.7242) -> (0, -87.5) centre (0, 0) ccw
  line L7 (0, 0) -> (-77.9631, 39.7242) construction
  line L8 (0, 0) -> (0, -87.5) construction
  circle A4 centre (77.9631, 39.7242) radius 1.6
  circle A5 centre (-77.9631, 39.7242) radius 1.6
  circle A6 centre (-39.7242, -77.9631) radius 1.6
  circle A7 centre (39.7242, -77.9631) radius 1.6
  dimension "d28" = 87.5
  dimension "d29" = 27
  dimension "d30" = 27
  dimension "d31" = 117
  dimension "d32" = 117
  dimension "d33" = 3.2
  dimension "d34" = 3.2
  dimension "d35" = 3.2
  dimension "d36" = 3.2
extrude "Extrusion3" cut sketch "Sketch3" against normal through all
properties part number "TSOP Ring"
